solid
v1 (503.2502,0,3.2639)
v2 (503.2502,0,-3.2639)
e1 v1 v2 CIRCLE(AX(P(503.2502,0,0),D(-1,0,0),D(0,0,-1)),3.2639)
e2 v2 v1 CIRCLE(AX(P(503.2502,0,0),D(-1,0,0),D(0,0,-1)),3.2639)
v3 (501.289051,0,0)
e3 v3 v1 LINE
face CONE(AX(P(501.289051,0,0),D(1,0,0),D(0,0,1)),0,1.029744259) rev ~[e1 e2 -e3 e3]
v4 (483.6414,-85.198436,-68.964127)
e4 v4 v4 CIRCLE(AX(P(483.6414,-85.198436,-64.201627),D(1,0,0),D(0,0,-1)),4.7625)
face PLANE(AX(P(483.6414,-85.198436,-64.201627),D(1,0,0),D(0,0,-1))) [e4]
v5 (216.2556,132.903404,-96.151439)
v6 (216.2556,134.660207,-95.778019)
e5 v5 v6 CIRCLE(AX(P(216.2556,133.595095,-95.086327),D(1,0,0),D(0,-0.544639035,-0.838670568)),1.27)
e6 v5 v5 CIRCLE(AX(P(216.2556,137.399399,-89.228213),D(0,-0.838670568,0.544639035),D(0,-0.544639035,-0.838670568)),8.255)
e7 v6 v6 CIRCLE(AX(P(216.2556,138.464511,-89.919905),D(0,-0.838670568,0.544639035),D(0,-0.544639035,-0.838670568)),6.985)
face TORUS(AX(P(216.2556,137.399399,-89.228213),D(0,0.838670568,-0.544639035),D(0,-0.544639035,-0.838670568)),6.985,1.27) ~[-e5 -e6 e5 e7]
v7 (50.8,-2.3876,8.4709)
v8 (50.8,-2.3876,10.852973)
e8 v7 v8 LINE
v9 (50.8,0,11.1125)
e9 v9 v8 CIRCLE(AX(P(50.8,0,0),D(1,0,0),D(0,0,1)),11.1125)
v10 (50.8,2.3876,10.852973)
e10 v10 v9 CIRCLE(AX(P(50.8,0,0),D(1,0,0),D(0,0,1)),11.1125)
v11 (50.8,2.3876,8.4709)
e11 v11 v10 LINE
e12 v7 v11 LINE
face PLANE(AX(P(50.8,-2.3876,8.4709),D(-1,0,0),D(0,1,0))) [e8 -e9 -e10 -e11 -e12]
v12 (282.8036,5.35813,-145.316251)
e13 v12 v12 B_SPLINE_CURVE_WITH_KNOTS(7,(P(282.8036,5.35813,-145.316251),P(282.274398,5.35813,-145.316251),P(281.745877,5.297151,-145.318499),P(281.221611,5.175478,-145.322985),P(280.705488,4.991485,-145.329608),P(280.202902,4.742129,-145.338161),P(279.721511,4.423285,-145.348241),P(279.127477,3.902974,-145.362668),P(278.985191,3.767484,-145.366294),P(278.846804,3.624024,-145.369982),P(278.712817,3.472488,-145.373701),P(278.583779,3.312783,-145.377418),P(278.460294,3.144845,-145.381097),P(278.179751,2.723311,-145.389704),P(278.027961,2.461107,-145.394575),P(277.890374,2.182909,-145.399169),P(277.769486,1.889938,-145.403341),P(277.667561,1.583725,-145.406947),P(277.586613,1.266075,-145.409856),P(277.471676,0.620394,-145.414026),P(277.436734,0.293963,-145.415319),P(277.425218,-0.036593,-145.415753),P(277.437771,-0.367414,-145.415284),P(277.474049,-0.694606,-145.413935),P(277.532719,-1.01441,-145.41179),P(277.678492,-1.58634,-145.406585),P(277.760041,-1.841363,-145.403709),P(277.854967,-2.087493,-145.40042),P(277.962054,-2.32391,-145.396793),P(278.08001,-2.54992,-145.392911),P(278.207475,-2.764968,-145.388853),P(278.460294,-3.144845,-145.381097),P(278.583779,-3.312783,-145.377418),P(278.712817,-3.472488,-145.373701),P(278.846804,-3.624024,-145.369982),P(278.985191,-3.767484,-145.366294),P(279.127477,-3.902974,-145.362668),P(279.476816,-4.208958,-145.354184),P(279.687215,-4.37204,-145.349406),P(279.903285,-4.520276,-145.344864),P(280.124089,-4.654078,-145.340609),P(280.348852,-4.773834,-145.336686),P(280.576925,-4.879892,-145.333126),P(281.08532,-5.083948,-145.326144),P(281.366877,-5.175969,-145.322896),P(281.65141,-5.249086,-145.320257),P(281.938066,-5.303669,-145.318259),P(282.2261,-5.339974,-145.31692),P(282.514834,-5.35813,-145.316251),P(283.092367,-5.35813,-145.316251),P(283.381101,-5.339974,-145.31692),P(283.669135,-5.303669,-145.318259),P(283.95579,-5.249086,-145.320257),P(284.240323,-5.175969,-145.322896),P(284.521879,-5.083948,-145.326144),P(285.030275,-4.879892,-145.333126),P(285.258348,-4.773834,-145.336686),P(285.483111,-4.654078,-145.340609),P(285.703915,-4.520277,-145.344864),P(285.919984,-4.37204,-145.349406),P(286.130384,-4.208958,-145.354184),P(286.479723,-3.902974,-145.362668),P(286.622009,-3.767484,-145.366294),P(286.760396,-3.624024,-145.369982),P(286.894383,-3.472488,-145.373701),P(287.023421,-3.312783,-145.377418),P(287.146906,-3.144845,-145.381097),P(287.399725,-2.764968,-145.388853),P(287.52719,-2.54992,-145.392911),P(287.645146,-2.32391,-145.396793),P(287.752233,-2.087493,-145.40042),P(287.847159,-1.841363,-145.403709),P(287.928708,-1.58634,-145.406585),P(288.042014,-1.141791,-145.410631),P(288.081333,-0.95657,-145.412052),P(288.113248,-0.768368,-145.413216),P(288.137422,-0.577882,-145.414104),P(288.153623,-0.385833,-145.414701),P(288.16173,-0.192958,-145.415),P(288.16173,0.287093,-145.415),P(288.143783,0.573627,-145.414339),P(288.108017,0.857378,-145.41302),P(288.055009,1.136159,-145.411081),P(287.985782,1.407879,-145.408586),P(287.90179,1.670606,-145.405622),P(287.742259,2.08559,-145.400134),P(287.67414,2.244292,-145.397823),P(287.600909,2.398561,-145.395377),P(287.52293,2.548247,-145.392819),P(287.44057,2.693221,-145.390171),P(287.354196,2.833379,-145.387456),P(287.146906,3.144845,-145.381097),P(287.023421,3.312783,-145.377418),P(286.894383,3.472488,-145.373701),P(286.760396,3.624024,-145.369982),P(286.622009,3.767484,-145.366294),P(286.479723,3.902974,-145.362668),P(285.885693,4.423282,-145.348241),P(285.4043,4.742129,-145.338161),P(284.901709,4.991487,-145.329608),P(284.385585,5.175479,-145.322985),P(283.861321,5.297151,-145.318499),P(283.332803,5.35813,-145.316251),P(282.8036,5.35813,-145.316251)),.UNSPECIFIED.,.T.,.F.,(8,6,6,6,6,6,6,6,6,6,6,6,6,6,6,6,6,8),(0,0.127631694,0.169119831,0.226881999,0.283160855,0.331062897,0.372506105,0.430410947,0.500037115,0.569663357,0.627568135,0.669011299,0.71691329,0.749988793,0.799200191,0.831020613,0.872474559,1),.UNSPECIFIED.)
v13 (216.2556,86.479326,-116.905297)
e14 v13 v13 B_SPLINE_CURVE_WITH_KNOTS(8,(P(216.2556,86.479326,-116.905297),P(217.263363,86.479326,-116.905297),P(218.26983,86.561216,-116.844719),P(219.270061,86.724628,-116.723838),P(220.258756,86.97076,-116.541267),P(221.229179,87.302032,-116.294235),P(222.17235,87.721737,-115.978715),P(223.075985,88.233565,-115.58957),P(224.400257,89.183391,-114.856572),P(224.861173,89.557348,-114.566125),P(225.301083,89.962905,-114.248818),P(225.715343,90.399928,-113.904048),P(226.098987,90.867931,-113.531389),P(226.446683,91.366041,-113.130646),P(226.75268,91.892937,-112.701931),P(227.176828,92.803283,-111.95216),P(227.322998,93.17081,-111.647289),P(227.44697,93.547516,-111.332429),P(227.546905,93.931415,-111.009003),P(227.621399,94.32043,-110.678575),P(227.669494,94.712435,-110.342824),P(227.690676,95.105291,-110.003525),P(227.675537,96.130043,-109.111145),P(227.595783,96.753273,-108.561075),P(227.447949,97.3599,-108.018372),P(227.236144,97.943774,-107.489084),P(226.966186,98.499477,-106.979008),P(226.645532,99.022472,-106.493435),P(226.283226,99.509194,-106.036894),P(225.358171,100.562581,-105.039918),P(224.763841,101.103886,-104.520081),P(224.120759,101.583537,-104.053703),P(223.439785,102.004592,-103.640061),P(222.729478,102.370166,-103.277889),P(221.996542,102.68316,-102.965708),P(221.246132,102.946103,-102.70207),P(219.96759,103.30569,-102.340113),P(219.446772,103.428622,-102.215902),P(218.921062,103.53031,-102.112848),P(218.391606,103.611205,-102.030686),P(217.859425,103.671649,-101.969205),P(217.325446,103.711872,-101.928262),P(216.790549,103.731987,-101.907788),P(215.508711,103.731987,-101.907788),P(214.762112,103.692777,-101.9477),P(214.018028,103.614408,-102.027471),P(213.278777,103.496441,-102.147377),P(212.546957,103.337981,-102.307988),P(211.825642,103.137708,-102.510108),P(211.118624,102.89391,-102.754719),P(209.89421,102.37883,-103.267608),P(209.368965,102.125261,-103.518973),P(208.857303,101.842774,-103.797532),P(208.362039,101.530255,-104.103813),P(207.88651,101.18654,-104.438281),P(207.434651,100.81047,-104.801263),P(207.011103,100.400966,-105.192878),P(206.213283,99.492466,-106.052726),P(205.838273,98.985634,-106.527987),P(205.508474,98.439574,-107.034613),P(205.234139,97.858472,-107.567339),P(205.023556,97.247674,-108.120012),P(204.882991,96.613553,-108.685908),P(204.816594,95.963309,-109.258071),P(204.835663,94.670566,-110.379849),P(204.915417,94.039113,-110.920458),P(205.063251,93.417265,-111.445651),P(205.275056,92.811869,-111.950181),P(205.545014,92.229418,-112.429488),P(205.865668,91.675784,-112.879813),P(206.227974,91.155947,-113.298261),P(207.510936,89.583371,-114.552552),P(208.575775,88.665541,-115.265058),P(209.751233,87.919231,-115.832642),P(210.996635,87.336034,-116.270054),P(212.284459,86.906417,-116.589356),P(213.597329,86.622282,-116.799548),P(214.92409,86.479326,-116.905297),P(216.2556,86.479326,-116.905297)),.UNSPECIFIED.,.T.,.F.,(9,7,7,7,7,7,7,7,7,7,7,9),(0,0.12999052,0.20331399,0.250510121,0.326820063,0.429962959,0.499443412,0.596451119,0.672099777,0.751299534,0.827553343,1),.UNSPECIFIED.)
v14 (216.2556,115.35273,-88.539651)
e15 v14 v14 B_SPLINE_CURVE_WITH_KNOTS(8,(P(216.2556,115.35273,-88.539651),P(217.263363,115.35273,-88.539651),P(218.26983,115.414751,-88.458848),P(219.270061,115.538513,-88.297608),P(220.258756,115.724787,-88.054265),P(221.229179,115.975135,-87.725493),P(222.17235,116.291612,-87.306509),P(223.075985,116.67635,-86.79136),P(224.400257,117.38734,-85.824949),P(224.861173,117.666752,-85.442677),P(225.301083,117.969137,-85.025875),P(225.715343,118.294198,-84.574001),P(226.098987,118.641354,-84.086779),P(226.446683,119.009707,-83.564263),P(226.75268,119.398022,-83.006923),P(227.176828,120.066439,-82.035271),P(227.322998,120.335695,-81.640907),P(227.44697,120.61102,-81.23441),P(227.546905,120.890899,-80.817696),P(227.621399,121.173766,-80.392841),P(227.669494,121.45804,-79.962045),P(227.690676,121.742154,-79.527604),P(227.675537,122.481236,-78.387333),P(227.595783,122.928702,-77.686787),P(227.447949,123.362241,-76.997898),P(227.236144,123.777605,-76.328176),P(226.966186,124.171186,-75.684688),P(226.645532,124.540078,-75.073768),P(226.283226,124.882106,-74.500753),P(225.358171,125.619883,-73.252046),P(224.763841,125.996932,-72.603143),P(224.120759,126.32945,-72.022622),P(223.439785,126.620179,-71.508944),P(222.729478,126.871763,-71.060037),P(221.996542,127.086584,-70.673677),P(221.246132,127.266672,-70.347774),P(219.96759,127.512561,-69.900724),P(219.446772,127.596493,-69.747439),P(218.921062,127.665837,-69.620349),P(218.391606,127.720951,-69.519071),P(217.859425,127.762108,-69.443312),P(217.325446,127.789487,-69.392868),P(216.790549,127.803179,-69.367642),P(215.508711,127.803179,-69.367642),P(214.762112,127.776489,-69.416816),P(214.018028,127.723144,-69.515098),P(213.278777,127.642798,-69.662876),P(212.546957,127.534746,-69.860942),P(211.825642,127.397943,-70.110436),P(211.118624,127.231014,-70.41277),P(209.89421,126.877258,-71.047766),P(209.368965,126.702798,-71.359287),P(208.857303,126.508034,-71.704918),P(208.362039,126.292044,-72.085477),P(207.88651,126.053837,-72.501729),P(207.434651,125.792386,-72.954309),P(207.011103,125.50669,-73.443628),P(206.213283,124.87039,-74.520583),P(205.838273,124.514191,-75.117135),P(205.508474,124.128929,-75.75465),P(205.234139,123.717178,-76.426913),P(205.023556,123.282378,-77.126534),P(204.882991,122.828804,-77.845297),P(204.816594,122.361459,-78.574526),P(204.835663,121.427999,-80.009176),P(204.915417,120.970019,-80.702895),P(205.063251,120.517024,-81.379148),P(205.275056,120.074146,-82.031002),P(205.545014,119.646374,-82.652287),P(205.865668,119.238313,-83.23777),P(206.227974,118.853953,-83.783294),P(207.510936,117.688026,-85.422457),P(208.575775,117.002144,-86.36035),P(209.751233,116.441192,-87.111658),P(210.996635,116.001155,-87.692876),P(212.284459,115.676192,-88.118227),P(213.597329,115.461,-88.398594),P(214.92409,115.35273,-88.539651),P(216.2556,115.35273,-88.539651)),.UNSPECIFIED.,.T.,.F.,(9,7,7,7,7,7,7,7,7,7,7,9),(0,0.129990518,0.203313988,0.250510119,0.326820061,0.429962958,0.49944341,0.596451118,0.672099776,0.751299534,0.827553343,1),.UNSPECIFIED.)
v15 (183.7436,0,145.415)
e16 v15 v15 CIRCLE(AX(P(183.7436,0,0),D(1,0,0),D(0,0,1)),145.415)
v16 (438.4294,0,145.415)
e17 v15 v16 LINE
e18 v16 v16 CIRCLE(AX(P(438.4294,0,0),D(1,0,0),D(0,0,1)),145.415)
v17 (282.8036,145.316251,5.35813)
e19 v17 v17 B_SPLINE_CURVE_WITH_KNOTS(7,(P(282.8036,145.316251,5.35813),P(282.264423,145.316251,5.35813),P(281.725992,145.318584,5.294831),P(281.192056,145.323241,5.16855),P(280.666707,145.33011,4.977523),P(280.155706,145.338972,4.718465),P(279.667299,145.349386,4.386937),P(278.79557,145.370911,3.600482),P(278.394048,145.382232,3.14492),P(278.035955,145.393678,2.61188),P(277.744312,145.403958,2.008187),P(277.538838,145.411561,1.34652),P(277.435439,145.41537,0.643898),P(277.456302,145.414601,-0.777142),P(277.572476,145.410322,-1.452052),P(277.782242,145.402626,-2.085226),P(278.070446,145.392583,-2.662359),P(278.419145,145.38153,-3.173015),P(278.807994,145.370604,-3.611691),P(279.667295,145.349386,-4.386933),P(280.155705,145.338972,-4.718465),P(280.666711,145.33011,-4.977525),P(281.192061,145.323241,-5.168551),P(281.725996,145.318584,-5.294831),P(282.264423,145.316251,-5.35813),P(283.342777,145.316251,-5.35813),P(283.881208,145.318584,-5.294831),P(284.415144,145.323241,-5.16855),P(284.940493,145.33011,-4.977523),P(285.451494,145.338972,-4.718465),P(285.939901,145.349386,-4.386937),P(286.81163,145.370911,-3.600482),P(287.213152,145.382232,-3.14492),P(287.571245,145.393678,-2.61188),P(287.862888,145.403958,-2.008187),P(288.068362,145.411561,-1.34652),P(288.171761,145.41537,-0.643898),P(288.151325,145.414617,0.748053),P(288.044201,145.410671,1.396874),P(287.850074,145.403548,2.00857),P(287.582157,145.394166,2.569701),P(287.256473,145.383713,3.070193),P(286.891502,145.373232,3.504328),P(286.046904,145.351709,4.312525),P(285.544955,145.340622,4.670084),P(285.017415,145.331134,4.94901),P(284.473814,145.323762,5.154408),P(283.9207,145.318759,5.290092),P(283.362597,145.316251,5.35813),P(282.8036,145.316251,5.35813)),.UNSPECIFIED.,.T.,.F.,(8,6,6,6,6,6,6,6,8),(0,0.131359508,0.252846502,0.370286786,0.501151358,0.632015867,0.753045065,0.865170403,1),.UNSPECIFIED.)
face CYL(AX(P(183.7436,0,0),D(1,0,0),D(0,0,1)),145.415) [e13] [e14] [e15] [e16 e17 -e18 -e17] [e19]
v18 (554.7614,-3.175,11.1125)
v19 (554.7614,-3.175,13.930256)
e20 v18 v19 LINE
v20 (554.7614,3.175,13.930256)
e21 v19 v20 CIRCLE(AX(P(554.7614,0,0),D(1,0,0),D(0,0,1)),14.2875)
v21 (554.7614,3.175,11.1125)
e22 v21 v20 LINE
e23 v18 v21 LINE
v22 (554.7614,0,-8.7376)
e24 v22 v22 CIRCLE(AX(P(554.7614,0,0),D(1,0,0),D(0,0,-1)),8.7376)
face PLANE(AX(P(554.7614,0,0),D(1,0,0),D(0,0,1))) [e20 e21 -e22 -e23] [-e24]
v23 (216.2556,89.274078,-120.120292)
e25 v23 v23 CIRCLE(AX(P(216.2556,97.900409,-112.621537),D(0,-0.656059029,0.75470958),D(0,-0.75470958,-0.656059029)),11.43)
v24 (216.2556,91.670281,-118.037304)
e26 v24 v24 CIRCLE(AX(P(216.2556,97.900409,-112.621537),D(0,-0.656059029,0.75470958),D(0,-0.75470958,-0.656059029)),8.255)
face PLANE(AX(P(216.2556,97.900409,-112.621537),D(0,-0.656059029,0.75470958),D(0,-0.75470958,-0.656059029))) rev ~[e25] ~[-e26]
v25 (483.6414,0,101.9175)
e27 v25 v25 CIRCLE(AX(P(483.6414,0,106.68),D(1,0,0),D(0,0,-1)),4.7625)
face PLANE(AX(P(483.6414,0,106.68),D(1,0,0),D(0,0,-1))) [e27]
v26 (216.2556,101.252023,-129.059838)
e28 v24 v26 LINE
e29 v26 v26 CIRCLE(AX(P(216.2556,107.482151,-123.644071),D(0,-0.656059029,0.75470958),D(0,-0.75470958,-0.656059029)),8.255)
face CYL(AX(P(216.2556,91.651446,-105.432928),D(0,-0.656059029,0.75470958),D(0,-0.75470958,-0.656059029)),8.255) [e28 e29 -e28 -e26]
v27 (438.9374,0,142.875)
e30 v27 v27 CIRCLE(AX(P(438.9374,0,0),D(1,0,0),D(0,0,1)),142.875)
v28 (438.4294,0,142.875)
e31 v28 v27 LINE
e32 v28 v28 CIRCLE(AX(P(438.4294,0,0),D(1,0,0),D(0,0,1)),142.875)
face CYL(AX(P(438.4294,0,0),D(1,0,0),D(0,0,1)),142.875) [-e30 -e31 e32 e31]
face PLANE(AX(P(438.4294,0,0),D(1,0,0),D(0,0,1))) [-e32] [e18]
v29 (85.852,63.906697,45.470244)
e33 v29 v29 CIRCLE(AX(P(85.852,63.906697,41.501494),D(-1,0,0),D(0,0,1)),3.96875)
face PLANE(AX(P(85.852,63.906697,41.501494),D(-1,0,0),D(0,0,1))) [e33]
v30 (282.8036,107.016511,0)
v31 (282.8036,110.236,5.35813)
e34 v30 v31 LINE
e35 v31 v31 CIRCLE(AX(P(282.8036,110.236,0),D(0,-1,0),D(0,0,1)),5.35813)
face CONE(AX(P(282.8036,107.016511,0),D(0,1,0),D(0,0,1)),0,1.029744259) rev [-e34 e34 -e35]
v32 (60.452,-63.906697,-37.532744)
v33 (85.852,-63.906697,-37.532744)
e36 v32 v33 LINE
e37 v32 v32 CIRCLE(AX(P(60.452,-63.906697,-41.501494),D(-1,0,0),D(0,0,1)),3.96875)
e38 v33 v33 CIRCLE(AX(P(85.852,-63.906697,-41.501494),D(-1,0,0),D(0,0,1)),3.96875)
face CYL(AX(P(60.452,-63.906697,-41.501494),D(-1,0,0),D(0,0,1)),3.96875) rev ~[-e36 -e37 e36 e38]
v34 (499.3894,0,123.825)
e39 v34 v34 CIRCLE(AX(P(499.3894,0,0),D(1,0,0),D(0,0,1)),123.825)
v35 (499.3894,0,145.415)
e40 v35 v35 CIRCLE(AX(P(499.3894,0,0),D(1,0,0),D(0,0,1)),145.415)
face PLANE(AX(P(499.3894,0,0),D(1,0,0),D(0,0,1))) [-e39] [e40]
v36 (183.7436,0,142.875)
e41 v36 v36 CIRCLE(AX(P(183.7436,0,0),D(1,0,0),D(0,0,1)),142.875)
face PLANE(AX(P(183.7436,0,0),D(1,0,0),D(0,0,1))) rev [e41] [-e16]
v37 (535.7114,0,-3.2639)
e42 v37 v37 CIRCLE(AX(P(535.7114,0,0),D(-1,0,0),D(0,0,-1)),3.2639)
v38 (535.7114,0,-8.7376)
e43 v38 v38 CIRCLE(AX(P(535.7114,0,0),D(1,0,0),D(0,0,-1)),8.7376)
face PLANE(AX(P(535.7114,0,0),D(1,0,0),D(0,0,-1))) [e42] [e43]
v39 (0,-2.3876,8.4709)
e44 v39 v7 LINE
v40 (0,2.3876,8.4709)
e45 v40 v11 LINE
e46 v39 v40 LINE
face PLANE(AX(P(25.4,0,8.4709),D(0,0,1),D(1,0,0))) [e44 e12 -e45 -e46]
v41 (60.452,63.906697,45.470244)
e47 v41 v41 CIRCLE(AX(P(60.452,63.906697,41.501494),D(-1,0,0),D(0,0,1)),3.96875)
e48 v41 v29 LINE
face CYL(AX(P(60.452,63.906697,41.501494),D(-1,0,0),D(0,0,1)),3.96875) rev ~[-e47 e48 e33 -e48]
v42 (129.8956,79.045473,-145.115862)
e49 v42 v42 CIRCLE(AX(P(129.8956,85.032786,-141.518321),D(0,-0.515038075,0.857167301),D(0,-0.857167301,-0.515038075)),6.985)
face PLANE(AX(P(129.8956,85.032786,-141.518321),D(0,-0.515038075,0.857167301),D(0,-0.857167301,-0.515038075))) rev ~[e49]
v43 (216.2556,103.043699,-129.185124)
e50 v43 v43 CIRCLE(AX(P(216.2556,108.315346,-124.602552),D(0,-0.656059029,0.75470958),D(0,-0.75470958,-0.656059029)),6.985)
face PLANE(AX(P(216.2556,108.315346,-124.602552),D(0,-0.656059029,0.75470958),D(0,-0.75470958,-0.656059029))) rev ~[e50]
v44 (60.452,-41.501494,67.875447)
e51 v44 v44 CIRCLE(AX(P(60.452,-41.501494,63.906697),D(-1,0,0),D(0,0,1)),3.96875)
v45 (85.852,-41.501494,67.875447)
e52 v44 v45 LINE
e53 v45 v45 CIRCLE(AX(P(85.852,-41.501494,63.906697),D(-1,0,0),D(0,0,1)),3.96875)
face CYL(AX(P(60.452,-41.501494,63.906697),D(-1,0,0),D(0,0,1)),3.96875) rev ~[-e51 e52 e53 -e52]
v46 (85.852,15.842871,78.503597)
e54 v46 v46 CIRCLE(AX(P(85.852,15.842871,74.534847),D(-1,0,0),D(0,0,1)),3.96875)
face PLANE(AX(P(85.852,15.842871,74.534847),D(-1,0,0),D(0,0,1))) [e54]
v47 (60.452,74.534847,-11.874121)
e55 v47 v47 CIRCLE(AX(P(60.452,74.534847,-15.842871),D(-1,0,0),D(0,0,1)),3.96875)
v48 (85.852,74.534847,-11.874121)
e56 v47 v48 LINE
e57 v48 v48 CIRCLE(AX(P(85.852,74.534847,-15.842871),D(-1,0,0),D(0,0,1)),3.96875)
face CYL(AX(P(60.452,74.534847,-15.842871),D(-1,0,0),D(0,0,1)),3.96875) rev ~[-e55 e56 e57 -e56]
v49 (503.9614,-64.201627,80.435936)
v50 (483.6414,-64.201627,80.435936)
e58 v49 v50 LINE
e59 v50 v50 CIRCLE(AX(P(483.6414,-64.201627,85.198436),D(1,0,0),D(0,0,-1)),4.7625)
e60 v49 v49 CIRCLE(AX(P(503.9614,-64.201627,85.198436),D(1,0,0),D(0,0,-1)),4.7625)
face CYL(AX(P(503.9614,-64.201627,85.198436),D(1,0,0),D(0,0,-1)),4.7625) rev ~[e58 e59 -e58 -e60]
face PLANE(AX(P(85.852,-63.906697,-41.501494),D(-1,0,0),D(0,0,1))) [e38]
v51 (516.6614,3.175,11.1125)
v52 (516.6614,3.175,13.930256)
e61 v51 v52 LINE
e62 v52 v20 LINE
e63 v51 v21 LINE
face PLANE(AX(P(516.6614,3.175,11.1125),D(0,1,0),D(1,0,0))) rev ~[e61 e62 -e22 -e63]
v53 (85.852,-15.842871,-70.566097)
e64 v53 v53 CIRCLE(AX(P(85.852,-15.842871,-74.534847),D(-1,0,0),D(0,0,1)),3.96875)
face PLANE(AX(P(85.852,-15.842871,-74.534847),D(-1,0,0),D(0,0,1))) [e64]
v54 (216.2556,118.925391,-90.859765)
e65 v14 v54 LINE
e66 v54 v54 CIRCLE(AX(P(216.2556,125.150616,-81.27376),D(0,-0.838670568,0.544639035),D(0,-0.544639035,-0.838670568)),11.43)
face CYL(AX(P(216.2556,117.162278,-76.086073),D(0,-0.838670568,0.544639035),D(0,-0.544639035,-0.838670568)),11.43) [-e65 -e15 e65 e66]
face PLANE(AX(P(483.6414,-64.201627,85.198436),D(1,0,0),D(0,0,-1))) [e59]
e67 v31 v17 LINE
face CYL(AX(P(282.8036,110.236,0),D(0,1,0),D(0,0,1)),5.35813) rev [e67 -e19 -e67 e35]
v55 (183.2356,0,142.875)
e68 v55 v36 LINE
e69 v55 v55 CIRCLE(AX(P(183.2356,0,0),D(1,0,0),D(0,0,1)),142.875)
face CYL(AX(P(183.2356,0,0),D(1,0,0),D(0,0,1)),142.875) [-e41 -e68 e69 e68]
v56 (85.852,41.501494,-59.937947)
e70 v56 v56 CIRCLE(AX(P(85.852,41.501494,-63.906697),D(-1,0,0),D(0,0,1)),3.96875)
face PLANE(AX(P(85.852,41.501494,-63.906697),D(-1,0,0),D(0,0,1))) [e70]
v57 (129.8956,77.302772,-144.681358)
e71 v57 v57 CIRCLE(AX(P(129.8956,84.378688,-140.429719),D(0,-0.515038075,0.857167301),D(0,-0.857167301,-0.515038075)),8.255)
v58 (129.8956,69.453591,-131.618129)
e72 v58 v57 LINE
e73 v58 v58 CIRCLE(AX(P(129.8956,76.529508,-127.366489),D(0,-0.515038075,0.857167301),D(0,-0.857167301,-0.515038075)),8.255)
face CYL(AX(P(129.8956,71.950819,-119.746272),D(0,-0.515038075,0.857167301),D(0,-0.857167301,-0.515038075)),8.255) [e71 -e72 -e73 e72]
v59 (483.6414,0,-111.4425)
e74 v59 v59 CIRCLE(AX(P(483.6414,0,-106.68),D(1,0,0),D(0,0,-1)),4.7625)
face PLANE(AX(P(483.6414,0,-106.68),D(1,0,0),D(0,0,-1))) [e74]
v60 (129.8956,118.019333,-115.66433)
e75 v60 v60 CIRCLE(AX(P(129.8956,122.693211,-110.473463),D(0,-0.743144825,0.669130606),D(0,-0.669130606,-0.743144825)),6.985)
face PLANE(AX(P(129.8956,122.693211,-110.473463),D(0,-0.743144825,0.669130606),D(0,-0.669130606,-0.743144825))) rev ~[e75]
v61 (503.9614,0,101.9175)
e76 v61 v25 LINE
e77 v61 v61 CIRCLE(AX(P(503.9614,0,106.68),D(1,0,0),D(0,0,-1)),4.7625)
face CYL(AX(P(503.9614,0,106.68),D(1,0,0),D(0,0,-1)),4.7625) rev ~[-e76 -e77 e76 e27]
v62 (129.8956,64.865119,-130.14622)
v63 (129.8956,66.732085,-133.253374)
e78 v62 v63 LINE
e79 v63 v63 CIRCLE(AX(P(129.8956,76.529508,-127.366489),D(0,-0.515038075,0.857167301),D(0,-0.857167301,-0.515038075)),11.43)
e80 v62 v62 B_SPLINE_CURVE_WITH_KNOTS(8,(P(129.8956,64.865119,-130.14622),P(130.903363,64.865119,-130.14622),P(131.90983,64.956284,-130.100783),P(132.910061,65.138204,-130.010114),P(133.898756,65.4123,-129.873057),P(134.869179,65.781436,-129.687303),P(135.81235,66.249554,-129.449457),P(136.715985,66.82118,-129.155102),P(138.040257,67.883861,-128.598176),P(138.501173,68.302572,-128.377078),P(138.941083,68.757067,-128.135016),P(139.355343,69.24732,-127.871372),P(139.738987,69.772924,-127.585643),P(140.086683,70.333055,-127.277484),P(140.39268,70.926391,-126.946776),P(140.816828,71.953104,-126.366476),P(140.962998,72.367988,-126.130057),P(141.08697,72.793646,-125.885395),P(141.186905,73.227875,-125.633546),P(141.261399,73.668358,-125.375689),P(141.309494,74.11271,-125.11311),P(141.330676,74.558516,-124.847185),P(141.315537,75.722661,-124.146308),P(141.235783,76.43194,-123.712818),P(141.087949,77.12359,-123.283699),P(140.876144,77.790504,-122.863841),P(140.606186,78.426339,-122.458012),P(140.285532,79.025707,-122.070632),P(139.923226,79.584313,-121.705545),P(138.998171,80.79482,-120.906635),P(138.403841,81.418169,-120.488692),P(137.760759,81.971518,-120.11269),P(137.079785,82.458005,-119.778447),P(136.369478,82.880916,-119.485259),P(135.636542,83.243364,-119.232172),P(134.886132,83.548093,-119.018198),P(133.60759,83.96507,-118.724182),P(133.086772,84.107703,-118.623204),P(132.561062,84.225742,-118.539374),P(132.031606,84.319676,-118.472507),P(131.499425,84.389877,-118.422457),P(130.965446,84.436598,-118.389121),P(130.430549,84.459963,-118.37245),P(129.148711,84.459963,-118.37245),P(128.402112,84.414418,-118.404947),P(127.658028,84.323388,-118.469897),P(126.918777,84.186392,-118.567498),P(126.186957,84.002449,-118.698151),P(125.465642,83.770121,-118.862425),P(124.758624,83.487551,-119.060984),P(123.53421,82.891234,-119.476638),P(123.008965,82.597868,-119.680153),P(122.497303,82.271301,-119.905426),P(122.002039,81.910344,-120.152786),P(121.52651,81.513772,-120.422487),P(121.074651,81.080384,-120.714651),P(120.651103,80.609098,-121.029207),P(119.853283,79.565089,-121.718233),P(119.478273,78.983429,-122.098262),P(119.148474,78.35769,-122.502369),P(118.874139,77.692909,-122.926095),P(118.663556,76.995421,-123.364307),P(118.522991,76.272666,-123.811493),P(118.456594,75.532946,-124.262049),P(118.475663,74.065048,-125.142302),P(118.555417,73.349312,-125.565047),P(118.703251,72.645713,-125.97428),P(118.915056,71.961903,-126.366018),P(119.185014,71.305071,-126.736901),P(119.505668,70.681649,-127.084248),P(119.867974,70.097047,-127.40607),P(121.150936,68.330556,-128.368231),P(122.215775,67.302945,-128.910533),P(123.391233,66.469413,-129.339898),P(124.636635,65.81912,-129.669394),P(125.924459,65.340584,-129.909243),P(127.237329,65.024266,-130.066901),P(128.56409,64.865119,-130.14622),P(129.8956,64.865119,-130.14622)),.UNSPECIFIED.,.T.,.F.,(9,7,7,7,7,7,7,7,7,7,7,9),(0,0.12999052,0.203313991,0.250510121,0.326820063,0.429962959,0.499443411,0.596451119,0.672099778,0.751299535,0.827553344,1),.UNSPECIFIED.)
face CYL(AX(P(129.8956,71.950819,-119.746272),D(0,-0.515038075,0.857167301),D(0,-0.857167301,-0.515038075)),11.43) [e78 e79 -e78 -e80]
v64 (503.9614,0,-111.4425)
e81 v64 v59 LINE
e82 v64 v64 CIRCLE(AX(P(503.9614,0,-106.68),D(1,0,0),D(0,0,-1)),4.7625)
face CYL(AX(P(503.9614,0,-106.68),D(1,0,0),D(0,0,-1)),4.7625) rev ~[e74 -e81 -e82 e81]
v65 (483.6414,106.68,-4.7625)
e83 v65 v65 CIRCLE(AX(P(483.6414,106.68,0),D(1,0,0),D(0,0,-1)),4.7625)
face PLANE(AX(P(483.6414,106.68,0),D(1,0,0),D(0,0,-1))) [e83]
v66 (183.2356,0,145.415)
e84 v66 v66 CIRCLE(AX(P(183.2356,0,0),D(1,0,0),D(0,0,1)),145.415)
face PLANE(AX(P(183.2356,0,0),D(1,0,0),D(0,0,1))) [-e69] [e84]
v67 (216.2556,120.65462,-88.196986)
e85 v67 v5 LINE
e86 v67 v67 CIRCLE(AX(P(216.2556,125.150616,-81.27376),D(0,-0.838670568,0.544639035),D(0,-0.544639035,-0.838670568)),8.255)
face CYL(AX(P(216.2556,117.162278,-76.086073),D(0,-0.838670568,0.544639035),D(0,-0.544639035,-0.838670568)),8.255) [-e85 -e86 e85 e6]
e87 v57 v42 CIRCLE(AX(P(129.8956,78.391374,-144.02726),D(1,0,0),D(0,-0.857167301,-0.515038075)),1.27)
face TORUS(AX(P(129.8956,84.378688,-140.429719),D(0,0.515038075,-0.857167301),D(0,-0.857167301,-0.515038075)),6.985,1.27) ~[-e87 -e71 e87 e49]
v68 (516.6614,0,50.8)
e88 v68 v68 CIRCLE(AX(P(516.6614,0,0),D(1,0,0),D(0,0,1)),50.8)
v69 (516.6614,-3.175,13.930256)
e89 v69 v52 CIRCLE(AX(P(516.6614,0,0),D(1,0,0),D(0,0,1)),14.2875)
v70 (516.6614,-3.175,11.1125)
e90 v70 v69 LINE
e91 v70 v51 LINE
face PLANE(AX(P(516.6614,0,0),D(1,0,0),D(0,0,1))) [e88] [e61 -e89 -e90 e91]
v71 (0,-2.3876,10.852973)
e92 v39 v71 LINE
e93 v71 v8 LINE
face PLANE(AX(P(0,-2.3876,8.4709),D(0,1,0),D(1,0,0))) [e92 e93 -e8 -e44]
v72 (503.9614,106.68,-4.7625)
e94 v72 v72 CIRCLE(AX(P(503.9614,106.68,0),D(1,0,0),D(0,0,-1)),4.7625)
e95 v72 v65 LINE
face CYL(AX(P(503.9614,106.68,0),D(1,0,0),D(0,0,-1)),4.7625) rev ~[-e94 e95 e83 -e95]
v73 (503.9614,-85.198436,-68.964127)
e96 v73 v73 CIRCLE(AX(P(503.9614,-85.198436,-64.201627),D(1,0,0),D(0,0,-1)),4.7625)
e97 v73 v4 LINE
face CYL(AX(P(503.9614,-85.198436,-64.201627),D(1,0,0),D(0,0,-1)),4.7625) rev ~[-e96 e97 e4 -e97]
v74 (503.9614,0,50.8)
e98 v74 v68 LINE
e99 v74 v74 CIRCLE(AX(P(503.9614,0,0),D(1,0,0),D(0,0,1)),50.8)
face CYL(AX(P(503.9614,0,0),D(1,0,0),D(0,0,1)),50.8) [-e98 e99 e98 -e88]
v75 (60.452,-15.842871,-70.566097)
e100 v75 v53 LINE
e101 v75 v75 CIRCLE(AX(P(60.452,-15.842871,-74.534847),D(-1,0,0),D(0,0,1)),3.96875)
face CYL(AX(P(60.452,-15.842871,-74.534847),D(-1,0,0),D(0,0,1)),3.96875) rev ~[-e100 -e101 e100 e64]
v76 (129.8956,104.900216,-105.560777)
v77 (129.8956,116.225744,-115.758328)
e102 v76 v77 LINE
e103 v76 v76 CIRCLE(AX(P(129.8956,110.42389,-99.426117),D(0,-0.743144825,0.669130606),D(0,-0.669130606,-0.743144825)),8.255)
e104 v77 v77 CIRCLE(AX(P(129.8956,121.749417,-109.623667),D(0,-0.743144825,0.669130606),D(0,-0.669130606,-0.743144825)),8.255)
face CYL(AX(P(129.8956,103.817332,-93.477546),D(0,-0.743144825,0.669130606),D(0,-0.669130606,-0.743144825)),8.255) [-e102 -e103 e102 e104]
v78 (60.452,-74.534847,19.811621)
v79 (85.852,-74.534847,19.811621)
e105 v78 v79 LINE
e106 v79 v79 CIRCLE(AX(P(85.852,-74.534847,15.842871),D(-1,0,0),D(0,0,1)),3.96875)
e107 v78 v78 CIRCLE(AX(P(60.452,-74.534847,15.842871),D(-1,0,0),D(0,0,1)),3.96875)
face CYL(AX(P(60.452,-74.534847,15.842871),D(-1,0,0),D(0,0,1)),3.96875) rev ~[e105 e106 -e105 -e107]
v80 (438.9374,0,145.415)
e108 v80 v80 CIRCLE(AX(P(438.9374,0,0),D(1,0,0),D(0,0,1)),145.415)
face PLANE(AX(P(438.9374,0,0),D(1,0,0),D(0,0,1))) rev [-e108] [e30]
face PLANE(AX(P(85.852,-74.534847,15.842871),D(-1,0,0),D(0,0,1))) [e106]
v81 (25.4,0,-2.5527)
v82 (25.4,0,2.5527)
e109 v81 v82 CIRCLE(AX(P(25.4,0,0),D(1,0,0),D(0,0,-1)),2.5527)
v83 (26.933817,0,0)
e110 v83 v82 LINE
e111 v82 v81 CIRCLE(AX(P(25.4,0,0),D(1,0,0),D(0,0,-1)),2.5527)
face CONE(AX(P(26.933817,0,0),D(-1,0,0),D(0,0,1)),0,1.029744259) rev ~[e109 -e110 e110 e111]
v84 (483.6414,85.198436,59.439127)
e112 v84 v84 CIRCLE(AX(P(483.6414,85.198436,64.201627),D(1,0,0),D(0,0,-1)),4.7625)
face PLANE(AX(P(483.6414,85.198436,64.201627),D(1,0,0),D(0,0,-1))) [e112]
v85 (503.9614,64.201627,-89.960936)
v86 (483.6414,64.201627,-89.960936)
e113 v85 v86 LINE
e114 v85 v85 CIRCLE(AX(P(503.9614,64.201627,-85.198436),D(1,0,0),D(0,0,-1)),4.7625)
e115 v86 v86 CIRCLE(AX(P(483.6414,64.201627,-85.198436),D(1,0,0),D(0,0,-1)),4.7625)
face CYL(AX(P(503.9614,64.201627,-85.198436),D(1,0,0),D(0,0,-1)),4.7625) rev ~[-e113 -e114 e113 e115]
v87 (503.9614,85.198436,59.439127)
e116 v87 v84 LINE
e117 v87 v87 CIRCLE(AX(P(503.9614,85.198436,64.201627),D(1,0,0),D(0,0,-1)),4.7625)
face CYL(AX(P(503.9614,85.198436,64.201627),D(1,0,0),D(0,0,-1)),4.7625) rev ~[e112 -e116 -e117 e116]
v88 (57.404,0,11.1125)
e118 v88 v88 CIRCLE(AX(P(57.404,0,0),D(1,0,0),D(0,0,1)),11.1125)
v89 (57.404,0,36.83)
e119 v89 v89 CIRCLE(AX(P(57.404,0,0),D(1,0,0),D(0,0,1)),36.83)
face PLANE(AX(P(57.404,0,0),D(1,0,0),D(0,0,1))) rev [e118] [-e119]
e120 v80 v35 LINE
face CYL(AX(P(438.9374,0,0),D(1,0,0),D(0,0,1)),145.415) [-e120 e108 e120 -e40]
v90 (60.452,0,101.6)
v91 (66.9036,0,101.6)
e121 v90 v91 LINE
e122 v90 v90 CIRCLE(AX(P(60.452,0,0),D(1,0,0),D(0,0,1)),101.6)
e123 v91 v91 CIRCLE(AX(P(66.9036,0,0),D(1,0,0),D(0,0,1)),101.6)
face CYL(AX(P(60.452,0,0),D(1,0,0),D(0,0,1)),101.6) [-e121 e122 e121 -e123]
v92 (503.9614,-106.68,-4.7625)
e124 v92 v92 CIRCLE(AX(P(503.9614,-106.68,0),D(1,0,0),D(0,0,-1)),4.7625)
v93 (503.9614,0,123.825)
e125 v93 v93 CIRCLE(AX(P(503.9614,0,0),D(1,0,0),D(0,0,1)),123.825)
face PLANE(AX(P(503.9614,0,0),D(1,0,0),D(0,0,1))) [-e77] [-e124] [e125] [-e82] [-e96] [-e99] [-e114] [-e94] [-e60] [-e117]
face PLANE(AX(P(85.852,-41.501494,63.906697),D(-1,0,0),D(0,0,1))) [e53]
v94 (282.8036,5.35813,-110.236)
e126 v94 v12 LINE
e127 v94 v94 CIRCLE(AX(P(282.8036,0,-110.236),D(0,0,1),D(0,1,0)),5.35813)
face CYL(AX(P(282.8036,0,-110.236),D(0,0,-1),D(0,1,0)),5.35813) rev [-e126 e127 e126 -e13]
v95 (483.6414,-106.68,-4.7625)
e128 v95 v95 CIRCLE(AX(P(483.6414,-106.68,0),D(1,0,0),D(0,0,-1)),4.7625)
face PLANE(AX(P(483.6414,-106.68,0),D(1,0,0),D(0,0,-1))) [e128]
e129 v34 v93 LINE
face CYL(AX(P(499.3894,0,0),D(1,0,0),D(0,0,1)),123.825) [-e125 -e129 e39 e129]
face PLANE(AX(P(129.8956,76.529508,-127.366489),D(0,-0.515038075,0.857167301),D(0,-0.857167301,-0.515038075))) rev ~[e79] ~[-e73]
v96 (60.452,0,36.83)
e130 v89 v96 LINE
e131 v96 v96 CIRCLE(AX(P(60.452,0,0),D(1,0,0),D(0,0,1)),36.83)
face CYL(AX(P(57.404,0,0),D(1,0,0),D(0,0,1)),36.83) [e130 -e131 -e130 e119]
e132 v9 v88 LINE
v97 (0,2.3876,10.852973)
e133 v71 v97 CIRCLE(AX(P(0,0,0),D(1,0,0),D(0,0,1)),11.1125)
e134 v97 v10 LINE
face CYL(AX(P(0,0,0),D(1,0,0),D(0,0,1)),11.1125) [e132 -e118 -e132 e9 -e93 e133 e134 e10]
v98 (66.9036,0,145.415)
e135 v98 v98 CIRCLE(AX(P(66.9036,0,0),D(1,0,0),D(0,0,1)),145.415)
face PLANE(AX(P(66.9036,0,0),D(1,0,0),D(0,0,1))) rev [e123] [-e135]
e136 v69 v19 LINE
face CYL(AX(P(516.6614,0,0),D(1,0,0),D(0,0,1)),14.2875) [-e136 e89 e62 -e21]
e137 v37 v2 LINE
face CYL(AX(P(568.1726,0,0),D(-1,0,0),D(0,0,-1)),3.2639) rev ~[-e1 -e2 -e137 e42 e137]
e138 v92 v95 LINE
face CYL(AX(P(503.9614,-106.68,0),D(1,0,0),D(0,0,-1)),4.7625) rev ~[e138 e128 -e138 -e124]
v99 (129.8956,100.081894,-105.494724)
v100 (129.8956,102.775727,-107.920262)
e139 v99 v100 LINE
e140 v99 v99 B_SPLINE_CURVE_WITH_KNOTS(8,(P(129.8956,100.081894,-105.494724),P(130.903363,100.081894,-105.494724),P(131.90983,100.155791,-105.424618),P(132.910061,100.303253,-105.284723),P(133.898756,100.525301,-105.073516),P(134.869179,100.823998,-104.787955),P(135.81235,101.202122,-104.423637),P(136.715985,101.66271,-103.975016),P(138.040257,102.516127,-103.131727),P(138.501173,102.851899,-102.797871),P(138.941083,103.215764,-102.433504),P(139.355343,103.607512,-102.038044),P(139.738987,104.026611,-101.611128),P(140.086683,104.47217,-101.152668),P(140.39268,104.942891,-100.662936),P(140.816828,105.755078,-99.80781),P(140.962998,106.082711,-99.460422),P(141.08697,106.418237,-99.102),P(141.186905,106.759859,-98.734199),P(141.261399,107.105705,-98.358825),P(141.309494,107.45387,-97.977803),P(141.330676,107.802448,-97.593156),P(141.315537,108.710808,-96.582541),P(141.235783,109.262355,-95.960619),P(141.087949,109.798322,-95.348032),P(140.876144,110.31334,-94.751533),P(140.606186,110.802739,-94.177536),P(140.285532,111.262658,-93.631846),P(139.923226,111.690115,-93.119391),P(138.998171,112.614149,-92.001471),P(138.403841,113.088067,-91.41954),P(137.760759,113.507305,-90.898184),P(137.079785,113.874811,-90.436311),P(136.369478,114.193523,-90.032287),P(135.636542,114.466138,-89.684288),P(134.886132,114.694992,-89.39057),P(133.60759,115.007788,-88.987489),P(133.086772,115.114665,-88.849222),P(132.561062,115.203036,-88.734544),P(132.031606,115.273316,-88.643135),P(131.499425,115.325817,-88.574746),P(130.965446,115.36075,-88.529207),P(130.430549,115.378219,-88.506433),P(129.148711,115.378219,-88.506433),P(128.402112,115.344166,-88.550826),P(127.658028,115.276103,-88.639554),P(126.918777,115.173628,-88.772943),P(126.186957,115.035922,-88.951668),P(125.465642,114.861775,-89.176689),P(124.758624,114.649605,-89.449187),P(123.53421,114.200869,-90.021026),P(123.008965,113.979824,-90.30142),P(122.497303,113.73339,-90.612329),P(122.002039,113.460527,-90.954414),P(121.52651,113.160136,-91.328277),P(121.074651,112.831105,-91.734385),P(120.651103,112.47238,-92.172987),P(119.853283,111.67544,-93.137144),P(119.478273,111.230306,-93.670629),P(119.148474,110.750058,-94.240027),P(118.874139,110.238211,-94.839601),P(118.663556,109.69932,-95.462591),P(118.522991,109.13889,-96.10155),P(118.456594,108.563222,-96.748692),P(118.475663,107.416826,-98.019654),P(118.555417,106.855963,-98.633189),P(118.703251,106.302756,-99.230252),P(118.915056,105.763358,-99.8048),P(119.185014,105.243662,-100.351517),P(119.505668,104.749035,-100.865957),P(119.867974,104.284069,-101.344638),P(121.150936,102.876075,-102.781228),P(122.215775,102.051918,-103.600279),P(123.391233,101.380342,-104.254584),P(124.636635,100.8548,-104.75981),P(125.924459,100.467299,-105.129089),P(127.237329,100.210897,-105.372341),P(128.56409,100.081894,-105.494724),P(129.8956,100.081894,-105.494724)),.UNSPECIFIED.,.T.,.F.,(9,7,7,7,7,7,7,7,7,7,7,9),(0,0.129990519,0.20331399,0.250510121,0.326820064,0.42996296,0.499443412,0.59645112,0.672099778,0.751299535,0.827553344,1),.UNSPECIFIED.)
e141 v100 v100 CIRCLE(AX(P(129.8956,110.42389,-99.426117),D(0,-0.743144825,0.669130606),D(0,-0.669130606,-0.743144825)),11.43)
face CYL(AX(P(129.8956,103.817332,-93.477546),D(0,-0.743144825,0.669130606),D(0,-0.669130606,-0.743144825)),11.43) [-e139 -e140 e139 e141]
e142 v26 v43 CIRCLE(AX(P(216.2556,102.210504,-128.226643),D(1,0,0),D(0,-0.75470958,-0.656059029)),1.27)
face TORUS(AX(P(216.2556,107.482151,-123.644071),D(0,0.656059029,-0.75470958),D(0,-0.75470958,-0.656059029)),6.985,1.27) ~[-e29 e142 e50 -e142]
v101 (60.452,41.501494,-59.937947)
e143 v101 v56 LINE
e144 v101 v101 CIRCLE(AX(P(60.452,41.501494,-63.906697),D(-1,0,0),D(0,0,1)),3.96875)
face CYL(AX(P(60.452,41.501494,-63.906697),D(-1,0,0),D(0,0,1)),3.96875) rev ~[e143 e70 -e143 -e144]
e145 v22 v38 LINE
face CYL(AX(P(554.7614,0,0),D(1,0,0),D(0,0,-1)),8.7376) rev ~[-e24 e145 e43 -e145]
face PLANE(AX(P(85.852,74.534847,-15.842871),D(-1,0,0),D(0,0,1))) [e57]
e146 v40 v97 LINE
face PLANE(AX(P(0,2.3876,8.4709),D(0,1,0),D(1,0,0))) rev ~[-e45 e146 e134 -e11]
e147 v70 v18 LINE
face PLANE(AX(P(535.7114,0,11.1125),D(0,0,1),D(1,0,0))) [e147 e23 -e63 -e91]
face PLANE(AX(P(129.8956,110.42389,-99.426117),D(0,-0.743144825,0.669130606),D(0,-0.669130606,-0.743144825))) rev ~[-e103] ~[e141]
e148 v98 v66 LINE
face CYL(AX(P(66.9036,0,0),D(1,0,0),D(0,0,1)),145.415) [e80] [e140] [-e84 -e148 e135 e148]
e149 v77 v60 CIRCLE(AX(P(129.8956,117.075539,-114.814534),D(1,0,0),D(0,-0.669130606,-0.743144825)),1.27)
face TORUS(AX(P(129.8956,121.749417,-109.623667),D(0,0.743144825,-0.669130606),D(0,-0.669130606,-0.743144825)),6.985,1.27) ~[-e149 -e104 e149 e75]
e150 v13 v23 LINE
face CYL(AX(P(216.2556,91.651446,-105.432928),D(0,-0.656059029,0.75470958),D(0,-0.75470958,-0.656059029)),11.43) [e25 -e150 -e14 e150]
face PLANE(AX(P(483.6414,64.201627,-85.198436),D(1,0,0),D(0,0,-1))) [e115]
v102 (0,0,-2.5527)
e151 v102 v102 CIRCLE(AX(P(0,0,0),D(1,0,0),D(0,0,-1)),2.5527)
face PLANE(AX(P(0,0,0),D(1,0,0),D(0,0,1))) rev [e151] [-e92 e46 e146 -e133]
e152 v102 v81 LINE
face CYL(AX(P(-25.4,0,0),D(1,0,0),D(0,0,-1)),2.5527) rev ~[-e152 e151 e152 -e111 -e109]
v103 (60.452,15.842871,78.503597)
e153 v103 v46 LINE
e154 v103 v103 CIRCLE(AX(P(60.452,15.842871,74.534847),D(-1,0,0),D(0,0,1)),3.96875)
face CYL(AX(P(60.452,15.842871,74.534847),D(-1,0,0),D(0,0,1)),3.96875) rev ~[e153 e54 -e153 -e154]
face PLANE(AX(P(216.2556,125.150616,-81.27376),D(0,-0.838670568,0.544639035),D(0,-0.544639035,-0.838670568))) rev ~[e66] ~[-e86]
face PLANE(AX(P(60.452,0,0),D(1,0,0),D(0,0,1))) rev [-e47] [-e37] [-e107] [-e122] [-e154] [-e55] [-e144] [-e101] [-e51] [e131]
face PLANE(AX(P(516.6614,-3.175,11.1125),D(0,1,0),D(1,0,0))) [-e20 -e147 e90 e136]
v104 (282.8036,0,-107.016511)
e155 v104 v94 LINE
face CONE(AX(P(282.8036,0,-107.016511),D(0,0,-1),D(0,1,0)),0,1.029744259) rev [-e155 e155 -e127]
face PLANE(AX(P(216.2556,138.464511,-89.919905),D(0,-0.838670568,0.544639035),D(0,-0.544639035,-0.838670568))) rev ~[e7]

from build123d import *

# Parameters (mm, degrees)
SKETCH4_R                    = 4.7625
OUTPUT_MOUNT_HOLES_DEPTH     = 20.32
SKETCH5_R                    = 3.96875
AUX_OUTPUT_MOUNT_HOLES_DEPTH = 25.4
SKETCH10_R                   = 8.7376
PILOT_HOLE_DEPTH             = 19.05
F_5_16_18_TAPPED_HOLE4_D     = 6.5278
F_5_16_18_TAPPED_HOLE4_DEPTH = 32.4612
F_5_16_18_TAPPED_HOLE4_TIP   = 1.961148974
SKETCH13_W                   = 38.1
SKETCH13_H                   = 6.35
DRIVE_END_KEYWAY_DEPTH       = 19.05
F_1_4_20_TAPPED_HOLE1_D      = 5.1054
F_1_4_20_TAPPED_HOLE1_DEPTH  = 25.4
F_1_4_20_TAPPED_HOLE1_TIP    = 1.533816902
SKETCH16_W                   = 50.8
SKETCH16_H                   = 4.7752
CE_KEYWAY_DEPTH              = 19.05
SKETCH17_R                   = 8.255
A1_POST_DEPTH                = 25.4
SKETCH19_R                   = 11.43
A1_BASE_DEPTH                = 8.89
A1_FILLET_R                  = 1.27
A2_CONNECTOR_COUNT           = 2
A2_CONNECTOR_ANGLE           = 17
A1_FILLET_OF_A2_CONNECTOR_R  = 1.27
SKETCH20_R                   = 8.255
S1_POST_DEPTH                = 25.4
SKETCH21_R                   = 11.43
S1_BASE_DEPTH                = 9.525
S1_FILLET_R                  = 1.27
S2_CONNECTOR_COUNT           = 2
S2_CONNECTOR_ANGLE           = 16
S1_FILLET_OF_S2_CONNECTOR_R  = 1.27
LIFTING_HOLE_2_COUNT         = 2
LIFTING_HOLE_2_ANGLE         = 90


with BuildPart() as part:
    # Sketch2 → Revolve1 (revolve)
    with BuildSketch(Plane.XY, mode=Mode.PRIVATE) as revolve1_sk:
        Polygon((516.6614, 50.8), (516.6614, 14.2875), (554.7614, 14.2875), (554.7614, 0), (0, 0), (0, 11.1125), (57.404, 11.1125), (57.404, 36.83), (60.452, 36.83), (60.452, 101.6), (66.9036, 101.6), (66.9036, 145.415), (183.2356, 145.415), (183.2356, 142.875), (183.7436, 142.875), (183.7436, 145.415), (438.4294, 145.415), (438.4294, 142.875), (438.9374, 142.875), (438.9374, 145.415), (499.3894, 145.415), (499.3894, 123.825), (503.9614, 123.825), (503.9614, 50.8), align=None)
    revolve(revolve1_sk.sketch.rotate(Axis((-32.872294637, 0, 0), (1, 0, 0)), 90), axis=Axis((-32.872294637, 0, 0), (1, 0, 0)))  # turned: the seam where the file's is

    # Sketch4 → Output mount holes (cut)
    with BuildSketch(Plane(origin=(503.9614, 0, 0), x_dir=(0, 0, -1), z_dir=(1, 0, 0))):
        with Locations((106.68, 0)):
            Circle(SKETCH4_R)
        with Locations((85.198436212, 64.20162667)):
            Circle(SKETCH4_R)
        with Locations((0, -106.68)):
            Circle(SKETCH4_R)
        with Locations((64.20162667, -85.198436212)):
            Circle(SKETCH4_R)
        with Locations((-106.68, 0)):
            Circle(SKETCH4_R)
        with Locations((-85.198436212, -64.20162667)):
            Circle(SKETCH4_R)
        with Locations((0, 106.68)):
            Circle(SKETCH4_R)
        with Locations((-64.20162667, 85.198436212)):
            Circle(SKETCH4_R)
    extrude(amount=-OUTPUT_MOUNT_HOLES_DEPTH, mode=Mode.SUBTRACT)

    # Sketch5 → Aux output mount holes (cut)
    with BuildSketch(Plane.ZY.offset(-60.452)):
        with Locations((74.534847176, 15.84287084)):
            Circle(SKETCH5_R)
        with Locations((63.906697277, -41.501494468)):
            Circle(SKETCH5_R)
        with Locations((15.84287084, -74.534847176)):
            Circle(SKETCH5_R)
        with Locations((-41.501494468, -63.906697277)):
            Circle(SKETCH5_R)
        with Locations((-74.534847176, -15.84287084)):
            Circle(SKETCH5_R)
        with Locations((-63.906697277, 41.501494468)):
            Circle(SKETCH5_R)
        with Locations((-15.84287084, 74.534847176)):
            Circle(SKETCH5_R)
        with Locations((41.501494468, 63.906697277)):
            Circle(SKETCH5_R)
    extrude(amount=-AUX_OUTPUT_MOUNT_HOLES_DEPTH, mode=Mode.SUBTRACT)

    # Sketch10 → Pilot Hole (cut)
    with BuildSketch(Plane(origin=(554.7614, 0, 0), x_dir=(0, 0, -1), z_dir=(1, 0, 0))):
        Circle(SKETCH10_R)
    extrude(amount=-PILOT_HOLE_DEPTH, mode=Mode.SUBTRACT)

    # 5/16-18 Tapped Hole4
    with Locations(Plane(origin=(535.7114, 0, 0), x_dir=(0, 0, 1), z_dir=(1, 0, 0))):
        with Locations((0, 0)):
            Hole(F_5_16_18_TAPPED_HOLE4_D / 2, depth=F_5_16_18_TAPPED_HOLE4_DEPTH)
            with Locations((0, 0, -(F_5_16_18_TAPPED_HOLE4_DEPTH + F_5_16_18_TAPPED_HOLE4_TIP / 2))):  # 118° drill point
                Cone(0, F_5_16_18_TAPPED_HOLE4_D / 2, F_5_16_18_TAPPED_HOLE4_TIP, mode=Mode.SUBTRACT)

    # Sketch13 → Drive End Keyway (cut)
    with BuildSketch(Plane.XY.offset(11.1125)):
        with Locations((535.7114, 0)):
            Rectangle(SKETCH13_W, SKETCH13_H)
    extrude(amount=DRIVE_END_KEYWAY_DEPTH, mode=Mode.SUBTRACT)

    # 1/4-20 Tapped Hole1
    with Locations(Plane.ZY):
        with Locations((0, 0)):
            Hole(F_1_4_20_TAPPED_HOLE1_D / 2, depth=F_1_4_20_TAPPED_HOLE1_DEPTH)
            with Locations((0, 0, -(F_1_4_20_TAPPED_HOLE1_DEPTH + F_1_4_20_TAPPED_HOLE1_TIP / 2))):  # 118° drill point
                Cone(0, F_1_4_20_TAPPED_HOLE1_D / 2, F_1_4_20_TAPPED_HOLE1_TIP, mode=Mode.SUBTRACT)

    # Sketch16 → CE Keyway (cut)
    with BuildSketch(Plane.XY.offset(8.4709)):
        with Locations((25.4, 0)):
            Rectangle(SKETCH16_W, SKETCH16_H)
    extrude(amount=CE_KEYWAY_DEPTH, mode=Mode.SUBTRACT)

    # Sketch17 → A1 Post (add)
    with BuildSketch(Plane(origin=(0, 103.817332119, -93.477545708), x_dir=(-1, 0, 0), z_dir=(0, -0.743144825, 0.669130606))):
        with Locations(Location((-129.8956, 0, 0), (0, 0, 90))):  # turned: the seam where the file's is
            Circle(SKETCH17_R)
    a1_post = extrude(amount=-A1_POST_DEPTH)

    # Sketch19 → A1 Base (add)
    with BuildSketch(Plane(origin=(0, 103.817332119, -93.477545708), x_dir=(-1, 0, 0), z_dir=(0, -0.743144825, 0.669130606))):
        with Locations(Location((-129.8956, 0, 0), (0, 0, 90))):  # turned: the seam where the file's is
            Circle(SKETCH19_R)
    a1_base = extrude(amount=-A1_BASE_DEPTH)

    # A1 Fillet
    a1_fillet_edges = [part.edges().sort_by_distance(p)[0] for p in [
        (129.8956, 128.216883842, -104.338802576),
    ]]
    fillet(a1_fillet_edges, radius=A1_FILLET_R)

    # A2 Connector: A1 Post, A1 Base ×2 about axis
    a2_connector_axis = Axis((-32.872294637, 0, 0), (-1, 0, 0))
    add([a1_post.rotate(a2_connector_axis, i * A2_CONNECTOR_ANGLE / (A2_CONNECTOR_COUNT - 1)) for i in range(1, A2_CONNECTOR_COUNT)])
    add([a1_base.rotate(a2_connector_axis, i * A2_CONNECTOR_ANGLE / (A2_CONNECTOR_COUNT - 1)) for i in range(1, A2_CONNECTOR_COUNT)])

    # A1 Fillet of A2 Connector
    a1_fillet_of_a2_connector_edges = [part.edges().sort_by_distance(p)[0] for p in [
        (129.8956, 92.108702235, -137.266682038),
    ]]
    fillet(a1_fillet_of_a2_connector_edges, radius=A1_FILLET_OF_A2_CONNECTOR_R)

    # Sketch20 → S1 Post (add)
    with BuildSketch(Plane(origin=(0, 91.65144635, -105.432928357), x_dir=(1, 0, 0), z_dir=(0, -0.656059029, 0.75470958))):
        with Locations(Location((216.2556, 0, 0), (0, 0, 270))):  # turned: the seam where the file's is
            Circle(SKETCH20_R)
    s1_post = extrude(amount=-S1_POST_DEPTH)

    # Sketch21 → S1 Base (add)
    with BuildSketch(Plane(origin=(0, 91.65144635, -105.432928357), x_dir=(1, 0, 0), z_dir=(0, -0.656059029, 0.75470958))):
        with Locations(Location((216.2556, 0, 0), (0, 0, 270))):  # turned: the seam where the file's is
            Circle(SKETCH21_R)
    s1_base = extrude(amount=-S1_BASE_DEPTH)

    # S1 Fillet
    s1_fillet_edges = [part.edges().sort_by_distance(p)[0] for p in [
        (216.2556, 114.545473271, -119.18678441),
    ]]
    fillet(s1_fillet_edges, radius=S1_FILLET_R)

    # S2 Connector: S1 Post, S1 Base ×2 about axis
    s2_connector_axis = Axis((-32.872294637, 0, 0), (1, 0, 0))
    add([s1_post.rotate(s2_connector_axis, i * S2_CONNECTOR_ANGLE / (S2_CONNECTOR_COUNT - 1)) for i in range(1, S2_CONNECTOR_COUNT)])
    add([s1_base.rotate(s2_connector_axis, i * S2_CONNECTOR_ANGLE / (S2_CONNECTOR_COUNT - 1)) for i in range(1, S2_CONNECTOR_COUNT)])

    # S1 Fillet of S2 Connector
    s1_fillet_of_s2_connector_edges = [part.edges().sort_by_distance(p)[0] for p in [
        (216.2556, 142.960506002, -82.996679143),
    ]]
    fillet(s1_fillet_of_s2_connector_edges, radius=S1_FILLET_OF_S2_CONNECTOR_R)

    # Sketch25 → Lifting Hole (revolve, cut)
    with BuildSketch(Plane(origin=(282.8036, 145.415, 0), x_dir=(0, 0, 1), z_dir=(1, 0, 0))):
        Polygon((0, 0), (0, 38.398489309), (5.35813, 35.179), (5.35813, 0), align=None)
    lifting_hole = revolve(axis=Axis((282.8036, 151.765, 0), (0, -1, 0)), mode=Mode.SUBTRACT)

    # Lifting Hole 2: Lifting Hole ×2 about axis
    lifting_hole_2_axis = Axis((-32.872294637, 0, 0), (-1, 0, 0))
    for i in range(1, LIFTING_HOLE_2_COUNT):
        add(lifting_hole.rotate(lifting_hole_2_axis, i * LIFTING_HOLE_2_ANGLE / (LIFTING_HOLE_2_COUNT - 1)), mode=Mode.SUBTRACT)


solid = part.part
